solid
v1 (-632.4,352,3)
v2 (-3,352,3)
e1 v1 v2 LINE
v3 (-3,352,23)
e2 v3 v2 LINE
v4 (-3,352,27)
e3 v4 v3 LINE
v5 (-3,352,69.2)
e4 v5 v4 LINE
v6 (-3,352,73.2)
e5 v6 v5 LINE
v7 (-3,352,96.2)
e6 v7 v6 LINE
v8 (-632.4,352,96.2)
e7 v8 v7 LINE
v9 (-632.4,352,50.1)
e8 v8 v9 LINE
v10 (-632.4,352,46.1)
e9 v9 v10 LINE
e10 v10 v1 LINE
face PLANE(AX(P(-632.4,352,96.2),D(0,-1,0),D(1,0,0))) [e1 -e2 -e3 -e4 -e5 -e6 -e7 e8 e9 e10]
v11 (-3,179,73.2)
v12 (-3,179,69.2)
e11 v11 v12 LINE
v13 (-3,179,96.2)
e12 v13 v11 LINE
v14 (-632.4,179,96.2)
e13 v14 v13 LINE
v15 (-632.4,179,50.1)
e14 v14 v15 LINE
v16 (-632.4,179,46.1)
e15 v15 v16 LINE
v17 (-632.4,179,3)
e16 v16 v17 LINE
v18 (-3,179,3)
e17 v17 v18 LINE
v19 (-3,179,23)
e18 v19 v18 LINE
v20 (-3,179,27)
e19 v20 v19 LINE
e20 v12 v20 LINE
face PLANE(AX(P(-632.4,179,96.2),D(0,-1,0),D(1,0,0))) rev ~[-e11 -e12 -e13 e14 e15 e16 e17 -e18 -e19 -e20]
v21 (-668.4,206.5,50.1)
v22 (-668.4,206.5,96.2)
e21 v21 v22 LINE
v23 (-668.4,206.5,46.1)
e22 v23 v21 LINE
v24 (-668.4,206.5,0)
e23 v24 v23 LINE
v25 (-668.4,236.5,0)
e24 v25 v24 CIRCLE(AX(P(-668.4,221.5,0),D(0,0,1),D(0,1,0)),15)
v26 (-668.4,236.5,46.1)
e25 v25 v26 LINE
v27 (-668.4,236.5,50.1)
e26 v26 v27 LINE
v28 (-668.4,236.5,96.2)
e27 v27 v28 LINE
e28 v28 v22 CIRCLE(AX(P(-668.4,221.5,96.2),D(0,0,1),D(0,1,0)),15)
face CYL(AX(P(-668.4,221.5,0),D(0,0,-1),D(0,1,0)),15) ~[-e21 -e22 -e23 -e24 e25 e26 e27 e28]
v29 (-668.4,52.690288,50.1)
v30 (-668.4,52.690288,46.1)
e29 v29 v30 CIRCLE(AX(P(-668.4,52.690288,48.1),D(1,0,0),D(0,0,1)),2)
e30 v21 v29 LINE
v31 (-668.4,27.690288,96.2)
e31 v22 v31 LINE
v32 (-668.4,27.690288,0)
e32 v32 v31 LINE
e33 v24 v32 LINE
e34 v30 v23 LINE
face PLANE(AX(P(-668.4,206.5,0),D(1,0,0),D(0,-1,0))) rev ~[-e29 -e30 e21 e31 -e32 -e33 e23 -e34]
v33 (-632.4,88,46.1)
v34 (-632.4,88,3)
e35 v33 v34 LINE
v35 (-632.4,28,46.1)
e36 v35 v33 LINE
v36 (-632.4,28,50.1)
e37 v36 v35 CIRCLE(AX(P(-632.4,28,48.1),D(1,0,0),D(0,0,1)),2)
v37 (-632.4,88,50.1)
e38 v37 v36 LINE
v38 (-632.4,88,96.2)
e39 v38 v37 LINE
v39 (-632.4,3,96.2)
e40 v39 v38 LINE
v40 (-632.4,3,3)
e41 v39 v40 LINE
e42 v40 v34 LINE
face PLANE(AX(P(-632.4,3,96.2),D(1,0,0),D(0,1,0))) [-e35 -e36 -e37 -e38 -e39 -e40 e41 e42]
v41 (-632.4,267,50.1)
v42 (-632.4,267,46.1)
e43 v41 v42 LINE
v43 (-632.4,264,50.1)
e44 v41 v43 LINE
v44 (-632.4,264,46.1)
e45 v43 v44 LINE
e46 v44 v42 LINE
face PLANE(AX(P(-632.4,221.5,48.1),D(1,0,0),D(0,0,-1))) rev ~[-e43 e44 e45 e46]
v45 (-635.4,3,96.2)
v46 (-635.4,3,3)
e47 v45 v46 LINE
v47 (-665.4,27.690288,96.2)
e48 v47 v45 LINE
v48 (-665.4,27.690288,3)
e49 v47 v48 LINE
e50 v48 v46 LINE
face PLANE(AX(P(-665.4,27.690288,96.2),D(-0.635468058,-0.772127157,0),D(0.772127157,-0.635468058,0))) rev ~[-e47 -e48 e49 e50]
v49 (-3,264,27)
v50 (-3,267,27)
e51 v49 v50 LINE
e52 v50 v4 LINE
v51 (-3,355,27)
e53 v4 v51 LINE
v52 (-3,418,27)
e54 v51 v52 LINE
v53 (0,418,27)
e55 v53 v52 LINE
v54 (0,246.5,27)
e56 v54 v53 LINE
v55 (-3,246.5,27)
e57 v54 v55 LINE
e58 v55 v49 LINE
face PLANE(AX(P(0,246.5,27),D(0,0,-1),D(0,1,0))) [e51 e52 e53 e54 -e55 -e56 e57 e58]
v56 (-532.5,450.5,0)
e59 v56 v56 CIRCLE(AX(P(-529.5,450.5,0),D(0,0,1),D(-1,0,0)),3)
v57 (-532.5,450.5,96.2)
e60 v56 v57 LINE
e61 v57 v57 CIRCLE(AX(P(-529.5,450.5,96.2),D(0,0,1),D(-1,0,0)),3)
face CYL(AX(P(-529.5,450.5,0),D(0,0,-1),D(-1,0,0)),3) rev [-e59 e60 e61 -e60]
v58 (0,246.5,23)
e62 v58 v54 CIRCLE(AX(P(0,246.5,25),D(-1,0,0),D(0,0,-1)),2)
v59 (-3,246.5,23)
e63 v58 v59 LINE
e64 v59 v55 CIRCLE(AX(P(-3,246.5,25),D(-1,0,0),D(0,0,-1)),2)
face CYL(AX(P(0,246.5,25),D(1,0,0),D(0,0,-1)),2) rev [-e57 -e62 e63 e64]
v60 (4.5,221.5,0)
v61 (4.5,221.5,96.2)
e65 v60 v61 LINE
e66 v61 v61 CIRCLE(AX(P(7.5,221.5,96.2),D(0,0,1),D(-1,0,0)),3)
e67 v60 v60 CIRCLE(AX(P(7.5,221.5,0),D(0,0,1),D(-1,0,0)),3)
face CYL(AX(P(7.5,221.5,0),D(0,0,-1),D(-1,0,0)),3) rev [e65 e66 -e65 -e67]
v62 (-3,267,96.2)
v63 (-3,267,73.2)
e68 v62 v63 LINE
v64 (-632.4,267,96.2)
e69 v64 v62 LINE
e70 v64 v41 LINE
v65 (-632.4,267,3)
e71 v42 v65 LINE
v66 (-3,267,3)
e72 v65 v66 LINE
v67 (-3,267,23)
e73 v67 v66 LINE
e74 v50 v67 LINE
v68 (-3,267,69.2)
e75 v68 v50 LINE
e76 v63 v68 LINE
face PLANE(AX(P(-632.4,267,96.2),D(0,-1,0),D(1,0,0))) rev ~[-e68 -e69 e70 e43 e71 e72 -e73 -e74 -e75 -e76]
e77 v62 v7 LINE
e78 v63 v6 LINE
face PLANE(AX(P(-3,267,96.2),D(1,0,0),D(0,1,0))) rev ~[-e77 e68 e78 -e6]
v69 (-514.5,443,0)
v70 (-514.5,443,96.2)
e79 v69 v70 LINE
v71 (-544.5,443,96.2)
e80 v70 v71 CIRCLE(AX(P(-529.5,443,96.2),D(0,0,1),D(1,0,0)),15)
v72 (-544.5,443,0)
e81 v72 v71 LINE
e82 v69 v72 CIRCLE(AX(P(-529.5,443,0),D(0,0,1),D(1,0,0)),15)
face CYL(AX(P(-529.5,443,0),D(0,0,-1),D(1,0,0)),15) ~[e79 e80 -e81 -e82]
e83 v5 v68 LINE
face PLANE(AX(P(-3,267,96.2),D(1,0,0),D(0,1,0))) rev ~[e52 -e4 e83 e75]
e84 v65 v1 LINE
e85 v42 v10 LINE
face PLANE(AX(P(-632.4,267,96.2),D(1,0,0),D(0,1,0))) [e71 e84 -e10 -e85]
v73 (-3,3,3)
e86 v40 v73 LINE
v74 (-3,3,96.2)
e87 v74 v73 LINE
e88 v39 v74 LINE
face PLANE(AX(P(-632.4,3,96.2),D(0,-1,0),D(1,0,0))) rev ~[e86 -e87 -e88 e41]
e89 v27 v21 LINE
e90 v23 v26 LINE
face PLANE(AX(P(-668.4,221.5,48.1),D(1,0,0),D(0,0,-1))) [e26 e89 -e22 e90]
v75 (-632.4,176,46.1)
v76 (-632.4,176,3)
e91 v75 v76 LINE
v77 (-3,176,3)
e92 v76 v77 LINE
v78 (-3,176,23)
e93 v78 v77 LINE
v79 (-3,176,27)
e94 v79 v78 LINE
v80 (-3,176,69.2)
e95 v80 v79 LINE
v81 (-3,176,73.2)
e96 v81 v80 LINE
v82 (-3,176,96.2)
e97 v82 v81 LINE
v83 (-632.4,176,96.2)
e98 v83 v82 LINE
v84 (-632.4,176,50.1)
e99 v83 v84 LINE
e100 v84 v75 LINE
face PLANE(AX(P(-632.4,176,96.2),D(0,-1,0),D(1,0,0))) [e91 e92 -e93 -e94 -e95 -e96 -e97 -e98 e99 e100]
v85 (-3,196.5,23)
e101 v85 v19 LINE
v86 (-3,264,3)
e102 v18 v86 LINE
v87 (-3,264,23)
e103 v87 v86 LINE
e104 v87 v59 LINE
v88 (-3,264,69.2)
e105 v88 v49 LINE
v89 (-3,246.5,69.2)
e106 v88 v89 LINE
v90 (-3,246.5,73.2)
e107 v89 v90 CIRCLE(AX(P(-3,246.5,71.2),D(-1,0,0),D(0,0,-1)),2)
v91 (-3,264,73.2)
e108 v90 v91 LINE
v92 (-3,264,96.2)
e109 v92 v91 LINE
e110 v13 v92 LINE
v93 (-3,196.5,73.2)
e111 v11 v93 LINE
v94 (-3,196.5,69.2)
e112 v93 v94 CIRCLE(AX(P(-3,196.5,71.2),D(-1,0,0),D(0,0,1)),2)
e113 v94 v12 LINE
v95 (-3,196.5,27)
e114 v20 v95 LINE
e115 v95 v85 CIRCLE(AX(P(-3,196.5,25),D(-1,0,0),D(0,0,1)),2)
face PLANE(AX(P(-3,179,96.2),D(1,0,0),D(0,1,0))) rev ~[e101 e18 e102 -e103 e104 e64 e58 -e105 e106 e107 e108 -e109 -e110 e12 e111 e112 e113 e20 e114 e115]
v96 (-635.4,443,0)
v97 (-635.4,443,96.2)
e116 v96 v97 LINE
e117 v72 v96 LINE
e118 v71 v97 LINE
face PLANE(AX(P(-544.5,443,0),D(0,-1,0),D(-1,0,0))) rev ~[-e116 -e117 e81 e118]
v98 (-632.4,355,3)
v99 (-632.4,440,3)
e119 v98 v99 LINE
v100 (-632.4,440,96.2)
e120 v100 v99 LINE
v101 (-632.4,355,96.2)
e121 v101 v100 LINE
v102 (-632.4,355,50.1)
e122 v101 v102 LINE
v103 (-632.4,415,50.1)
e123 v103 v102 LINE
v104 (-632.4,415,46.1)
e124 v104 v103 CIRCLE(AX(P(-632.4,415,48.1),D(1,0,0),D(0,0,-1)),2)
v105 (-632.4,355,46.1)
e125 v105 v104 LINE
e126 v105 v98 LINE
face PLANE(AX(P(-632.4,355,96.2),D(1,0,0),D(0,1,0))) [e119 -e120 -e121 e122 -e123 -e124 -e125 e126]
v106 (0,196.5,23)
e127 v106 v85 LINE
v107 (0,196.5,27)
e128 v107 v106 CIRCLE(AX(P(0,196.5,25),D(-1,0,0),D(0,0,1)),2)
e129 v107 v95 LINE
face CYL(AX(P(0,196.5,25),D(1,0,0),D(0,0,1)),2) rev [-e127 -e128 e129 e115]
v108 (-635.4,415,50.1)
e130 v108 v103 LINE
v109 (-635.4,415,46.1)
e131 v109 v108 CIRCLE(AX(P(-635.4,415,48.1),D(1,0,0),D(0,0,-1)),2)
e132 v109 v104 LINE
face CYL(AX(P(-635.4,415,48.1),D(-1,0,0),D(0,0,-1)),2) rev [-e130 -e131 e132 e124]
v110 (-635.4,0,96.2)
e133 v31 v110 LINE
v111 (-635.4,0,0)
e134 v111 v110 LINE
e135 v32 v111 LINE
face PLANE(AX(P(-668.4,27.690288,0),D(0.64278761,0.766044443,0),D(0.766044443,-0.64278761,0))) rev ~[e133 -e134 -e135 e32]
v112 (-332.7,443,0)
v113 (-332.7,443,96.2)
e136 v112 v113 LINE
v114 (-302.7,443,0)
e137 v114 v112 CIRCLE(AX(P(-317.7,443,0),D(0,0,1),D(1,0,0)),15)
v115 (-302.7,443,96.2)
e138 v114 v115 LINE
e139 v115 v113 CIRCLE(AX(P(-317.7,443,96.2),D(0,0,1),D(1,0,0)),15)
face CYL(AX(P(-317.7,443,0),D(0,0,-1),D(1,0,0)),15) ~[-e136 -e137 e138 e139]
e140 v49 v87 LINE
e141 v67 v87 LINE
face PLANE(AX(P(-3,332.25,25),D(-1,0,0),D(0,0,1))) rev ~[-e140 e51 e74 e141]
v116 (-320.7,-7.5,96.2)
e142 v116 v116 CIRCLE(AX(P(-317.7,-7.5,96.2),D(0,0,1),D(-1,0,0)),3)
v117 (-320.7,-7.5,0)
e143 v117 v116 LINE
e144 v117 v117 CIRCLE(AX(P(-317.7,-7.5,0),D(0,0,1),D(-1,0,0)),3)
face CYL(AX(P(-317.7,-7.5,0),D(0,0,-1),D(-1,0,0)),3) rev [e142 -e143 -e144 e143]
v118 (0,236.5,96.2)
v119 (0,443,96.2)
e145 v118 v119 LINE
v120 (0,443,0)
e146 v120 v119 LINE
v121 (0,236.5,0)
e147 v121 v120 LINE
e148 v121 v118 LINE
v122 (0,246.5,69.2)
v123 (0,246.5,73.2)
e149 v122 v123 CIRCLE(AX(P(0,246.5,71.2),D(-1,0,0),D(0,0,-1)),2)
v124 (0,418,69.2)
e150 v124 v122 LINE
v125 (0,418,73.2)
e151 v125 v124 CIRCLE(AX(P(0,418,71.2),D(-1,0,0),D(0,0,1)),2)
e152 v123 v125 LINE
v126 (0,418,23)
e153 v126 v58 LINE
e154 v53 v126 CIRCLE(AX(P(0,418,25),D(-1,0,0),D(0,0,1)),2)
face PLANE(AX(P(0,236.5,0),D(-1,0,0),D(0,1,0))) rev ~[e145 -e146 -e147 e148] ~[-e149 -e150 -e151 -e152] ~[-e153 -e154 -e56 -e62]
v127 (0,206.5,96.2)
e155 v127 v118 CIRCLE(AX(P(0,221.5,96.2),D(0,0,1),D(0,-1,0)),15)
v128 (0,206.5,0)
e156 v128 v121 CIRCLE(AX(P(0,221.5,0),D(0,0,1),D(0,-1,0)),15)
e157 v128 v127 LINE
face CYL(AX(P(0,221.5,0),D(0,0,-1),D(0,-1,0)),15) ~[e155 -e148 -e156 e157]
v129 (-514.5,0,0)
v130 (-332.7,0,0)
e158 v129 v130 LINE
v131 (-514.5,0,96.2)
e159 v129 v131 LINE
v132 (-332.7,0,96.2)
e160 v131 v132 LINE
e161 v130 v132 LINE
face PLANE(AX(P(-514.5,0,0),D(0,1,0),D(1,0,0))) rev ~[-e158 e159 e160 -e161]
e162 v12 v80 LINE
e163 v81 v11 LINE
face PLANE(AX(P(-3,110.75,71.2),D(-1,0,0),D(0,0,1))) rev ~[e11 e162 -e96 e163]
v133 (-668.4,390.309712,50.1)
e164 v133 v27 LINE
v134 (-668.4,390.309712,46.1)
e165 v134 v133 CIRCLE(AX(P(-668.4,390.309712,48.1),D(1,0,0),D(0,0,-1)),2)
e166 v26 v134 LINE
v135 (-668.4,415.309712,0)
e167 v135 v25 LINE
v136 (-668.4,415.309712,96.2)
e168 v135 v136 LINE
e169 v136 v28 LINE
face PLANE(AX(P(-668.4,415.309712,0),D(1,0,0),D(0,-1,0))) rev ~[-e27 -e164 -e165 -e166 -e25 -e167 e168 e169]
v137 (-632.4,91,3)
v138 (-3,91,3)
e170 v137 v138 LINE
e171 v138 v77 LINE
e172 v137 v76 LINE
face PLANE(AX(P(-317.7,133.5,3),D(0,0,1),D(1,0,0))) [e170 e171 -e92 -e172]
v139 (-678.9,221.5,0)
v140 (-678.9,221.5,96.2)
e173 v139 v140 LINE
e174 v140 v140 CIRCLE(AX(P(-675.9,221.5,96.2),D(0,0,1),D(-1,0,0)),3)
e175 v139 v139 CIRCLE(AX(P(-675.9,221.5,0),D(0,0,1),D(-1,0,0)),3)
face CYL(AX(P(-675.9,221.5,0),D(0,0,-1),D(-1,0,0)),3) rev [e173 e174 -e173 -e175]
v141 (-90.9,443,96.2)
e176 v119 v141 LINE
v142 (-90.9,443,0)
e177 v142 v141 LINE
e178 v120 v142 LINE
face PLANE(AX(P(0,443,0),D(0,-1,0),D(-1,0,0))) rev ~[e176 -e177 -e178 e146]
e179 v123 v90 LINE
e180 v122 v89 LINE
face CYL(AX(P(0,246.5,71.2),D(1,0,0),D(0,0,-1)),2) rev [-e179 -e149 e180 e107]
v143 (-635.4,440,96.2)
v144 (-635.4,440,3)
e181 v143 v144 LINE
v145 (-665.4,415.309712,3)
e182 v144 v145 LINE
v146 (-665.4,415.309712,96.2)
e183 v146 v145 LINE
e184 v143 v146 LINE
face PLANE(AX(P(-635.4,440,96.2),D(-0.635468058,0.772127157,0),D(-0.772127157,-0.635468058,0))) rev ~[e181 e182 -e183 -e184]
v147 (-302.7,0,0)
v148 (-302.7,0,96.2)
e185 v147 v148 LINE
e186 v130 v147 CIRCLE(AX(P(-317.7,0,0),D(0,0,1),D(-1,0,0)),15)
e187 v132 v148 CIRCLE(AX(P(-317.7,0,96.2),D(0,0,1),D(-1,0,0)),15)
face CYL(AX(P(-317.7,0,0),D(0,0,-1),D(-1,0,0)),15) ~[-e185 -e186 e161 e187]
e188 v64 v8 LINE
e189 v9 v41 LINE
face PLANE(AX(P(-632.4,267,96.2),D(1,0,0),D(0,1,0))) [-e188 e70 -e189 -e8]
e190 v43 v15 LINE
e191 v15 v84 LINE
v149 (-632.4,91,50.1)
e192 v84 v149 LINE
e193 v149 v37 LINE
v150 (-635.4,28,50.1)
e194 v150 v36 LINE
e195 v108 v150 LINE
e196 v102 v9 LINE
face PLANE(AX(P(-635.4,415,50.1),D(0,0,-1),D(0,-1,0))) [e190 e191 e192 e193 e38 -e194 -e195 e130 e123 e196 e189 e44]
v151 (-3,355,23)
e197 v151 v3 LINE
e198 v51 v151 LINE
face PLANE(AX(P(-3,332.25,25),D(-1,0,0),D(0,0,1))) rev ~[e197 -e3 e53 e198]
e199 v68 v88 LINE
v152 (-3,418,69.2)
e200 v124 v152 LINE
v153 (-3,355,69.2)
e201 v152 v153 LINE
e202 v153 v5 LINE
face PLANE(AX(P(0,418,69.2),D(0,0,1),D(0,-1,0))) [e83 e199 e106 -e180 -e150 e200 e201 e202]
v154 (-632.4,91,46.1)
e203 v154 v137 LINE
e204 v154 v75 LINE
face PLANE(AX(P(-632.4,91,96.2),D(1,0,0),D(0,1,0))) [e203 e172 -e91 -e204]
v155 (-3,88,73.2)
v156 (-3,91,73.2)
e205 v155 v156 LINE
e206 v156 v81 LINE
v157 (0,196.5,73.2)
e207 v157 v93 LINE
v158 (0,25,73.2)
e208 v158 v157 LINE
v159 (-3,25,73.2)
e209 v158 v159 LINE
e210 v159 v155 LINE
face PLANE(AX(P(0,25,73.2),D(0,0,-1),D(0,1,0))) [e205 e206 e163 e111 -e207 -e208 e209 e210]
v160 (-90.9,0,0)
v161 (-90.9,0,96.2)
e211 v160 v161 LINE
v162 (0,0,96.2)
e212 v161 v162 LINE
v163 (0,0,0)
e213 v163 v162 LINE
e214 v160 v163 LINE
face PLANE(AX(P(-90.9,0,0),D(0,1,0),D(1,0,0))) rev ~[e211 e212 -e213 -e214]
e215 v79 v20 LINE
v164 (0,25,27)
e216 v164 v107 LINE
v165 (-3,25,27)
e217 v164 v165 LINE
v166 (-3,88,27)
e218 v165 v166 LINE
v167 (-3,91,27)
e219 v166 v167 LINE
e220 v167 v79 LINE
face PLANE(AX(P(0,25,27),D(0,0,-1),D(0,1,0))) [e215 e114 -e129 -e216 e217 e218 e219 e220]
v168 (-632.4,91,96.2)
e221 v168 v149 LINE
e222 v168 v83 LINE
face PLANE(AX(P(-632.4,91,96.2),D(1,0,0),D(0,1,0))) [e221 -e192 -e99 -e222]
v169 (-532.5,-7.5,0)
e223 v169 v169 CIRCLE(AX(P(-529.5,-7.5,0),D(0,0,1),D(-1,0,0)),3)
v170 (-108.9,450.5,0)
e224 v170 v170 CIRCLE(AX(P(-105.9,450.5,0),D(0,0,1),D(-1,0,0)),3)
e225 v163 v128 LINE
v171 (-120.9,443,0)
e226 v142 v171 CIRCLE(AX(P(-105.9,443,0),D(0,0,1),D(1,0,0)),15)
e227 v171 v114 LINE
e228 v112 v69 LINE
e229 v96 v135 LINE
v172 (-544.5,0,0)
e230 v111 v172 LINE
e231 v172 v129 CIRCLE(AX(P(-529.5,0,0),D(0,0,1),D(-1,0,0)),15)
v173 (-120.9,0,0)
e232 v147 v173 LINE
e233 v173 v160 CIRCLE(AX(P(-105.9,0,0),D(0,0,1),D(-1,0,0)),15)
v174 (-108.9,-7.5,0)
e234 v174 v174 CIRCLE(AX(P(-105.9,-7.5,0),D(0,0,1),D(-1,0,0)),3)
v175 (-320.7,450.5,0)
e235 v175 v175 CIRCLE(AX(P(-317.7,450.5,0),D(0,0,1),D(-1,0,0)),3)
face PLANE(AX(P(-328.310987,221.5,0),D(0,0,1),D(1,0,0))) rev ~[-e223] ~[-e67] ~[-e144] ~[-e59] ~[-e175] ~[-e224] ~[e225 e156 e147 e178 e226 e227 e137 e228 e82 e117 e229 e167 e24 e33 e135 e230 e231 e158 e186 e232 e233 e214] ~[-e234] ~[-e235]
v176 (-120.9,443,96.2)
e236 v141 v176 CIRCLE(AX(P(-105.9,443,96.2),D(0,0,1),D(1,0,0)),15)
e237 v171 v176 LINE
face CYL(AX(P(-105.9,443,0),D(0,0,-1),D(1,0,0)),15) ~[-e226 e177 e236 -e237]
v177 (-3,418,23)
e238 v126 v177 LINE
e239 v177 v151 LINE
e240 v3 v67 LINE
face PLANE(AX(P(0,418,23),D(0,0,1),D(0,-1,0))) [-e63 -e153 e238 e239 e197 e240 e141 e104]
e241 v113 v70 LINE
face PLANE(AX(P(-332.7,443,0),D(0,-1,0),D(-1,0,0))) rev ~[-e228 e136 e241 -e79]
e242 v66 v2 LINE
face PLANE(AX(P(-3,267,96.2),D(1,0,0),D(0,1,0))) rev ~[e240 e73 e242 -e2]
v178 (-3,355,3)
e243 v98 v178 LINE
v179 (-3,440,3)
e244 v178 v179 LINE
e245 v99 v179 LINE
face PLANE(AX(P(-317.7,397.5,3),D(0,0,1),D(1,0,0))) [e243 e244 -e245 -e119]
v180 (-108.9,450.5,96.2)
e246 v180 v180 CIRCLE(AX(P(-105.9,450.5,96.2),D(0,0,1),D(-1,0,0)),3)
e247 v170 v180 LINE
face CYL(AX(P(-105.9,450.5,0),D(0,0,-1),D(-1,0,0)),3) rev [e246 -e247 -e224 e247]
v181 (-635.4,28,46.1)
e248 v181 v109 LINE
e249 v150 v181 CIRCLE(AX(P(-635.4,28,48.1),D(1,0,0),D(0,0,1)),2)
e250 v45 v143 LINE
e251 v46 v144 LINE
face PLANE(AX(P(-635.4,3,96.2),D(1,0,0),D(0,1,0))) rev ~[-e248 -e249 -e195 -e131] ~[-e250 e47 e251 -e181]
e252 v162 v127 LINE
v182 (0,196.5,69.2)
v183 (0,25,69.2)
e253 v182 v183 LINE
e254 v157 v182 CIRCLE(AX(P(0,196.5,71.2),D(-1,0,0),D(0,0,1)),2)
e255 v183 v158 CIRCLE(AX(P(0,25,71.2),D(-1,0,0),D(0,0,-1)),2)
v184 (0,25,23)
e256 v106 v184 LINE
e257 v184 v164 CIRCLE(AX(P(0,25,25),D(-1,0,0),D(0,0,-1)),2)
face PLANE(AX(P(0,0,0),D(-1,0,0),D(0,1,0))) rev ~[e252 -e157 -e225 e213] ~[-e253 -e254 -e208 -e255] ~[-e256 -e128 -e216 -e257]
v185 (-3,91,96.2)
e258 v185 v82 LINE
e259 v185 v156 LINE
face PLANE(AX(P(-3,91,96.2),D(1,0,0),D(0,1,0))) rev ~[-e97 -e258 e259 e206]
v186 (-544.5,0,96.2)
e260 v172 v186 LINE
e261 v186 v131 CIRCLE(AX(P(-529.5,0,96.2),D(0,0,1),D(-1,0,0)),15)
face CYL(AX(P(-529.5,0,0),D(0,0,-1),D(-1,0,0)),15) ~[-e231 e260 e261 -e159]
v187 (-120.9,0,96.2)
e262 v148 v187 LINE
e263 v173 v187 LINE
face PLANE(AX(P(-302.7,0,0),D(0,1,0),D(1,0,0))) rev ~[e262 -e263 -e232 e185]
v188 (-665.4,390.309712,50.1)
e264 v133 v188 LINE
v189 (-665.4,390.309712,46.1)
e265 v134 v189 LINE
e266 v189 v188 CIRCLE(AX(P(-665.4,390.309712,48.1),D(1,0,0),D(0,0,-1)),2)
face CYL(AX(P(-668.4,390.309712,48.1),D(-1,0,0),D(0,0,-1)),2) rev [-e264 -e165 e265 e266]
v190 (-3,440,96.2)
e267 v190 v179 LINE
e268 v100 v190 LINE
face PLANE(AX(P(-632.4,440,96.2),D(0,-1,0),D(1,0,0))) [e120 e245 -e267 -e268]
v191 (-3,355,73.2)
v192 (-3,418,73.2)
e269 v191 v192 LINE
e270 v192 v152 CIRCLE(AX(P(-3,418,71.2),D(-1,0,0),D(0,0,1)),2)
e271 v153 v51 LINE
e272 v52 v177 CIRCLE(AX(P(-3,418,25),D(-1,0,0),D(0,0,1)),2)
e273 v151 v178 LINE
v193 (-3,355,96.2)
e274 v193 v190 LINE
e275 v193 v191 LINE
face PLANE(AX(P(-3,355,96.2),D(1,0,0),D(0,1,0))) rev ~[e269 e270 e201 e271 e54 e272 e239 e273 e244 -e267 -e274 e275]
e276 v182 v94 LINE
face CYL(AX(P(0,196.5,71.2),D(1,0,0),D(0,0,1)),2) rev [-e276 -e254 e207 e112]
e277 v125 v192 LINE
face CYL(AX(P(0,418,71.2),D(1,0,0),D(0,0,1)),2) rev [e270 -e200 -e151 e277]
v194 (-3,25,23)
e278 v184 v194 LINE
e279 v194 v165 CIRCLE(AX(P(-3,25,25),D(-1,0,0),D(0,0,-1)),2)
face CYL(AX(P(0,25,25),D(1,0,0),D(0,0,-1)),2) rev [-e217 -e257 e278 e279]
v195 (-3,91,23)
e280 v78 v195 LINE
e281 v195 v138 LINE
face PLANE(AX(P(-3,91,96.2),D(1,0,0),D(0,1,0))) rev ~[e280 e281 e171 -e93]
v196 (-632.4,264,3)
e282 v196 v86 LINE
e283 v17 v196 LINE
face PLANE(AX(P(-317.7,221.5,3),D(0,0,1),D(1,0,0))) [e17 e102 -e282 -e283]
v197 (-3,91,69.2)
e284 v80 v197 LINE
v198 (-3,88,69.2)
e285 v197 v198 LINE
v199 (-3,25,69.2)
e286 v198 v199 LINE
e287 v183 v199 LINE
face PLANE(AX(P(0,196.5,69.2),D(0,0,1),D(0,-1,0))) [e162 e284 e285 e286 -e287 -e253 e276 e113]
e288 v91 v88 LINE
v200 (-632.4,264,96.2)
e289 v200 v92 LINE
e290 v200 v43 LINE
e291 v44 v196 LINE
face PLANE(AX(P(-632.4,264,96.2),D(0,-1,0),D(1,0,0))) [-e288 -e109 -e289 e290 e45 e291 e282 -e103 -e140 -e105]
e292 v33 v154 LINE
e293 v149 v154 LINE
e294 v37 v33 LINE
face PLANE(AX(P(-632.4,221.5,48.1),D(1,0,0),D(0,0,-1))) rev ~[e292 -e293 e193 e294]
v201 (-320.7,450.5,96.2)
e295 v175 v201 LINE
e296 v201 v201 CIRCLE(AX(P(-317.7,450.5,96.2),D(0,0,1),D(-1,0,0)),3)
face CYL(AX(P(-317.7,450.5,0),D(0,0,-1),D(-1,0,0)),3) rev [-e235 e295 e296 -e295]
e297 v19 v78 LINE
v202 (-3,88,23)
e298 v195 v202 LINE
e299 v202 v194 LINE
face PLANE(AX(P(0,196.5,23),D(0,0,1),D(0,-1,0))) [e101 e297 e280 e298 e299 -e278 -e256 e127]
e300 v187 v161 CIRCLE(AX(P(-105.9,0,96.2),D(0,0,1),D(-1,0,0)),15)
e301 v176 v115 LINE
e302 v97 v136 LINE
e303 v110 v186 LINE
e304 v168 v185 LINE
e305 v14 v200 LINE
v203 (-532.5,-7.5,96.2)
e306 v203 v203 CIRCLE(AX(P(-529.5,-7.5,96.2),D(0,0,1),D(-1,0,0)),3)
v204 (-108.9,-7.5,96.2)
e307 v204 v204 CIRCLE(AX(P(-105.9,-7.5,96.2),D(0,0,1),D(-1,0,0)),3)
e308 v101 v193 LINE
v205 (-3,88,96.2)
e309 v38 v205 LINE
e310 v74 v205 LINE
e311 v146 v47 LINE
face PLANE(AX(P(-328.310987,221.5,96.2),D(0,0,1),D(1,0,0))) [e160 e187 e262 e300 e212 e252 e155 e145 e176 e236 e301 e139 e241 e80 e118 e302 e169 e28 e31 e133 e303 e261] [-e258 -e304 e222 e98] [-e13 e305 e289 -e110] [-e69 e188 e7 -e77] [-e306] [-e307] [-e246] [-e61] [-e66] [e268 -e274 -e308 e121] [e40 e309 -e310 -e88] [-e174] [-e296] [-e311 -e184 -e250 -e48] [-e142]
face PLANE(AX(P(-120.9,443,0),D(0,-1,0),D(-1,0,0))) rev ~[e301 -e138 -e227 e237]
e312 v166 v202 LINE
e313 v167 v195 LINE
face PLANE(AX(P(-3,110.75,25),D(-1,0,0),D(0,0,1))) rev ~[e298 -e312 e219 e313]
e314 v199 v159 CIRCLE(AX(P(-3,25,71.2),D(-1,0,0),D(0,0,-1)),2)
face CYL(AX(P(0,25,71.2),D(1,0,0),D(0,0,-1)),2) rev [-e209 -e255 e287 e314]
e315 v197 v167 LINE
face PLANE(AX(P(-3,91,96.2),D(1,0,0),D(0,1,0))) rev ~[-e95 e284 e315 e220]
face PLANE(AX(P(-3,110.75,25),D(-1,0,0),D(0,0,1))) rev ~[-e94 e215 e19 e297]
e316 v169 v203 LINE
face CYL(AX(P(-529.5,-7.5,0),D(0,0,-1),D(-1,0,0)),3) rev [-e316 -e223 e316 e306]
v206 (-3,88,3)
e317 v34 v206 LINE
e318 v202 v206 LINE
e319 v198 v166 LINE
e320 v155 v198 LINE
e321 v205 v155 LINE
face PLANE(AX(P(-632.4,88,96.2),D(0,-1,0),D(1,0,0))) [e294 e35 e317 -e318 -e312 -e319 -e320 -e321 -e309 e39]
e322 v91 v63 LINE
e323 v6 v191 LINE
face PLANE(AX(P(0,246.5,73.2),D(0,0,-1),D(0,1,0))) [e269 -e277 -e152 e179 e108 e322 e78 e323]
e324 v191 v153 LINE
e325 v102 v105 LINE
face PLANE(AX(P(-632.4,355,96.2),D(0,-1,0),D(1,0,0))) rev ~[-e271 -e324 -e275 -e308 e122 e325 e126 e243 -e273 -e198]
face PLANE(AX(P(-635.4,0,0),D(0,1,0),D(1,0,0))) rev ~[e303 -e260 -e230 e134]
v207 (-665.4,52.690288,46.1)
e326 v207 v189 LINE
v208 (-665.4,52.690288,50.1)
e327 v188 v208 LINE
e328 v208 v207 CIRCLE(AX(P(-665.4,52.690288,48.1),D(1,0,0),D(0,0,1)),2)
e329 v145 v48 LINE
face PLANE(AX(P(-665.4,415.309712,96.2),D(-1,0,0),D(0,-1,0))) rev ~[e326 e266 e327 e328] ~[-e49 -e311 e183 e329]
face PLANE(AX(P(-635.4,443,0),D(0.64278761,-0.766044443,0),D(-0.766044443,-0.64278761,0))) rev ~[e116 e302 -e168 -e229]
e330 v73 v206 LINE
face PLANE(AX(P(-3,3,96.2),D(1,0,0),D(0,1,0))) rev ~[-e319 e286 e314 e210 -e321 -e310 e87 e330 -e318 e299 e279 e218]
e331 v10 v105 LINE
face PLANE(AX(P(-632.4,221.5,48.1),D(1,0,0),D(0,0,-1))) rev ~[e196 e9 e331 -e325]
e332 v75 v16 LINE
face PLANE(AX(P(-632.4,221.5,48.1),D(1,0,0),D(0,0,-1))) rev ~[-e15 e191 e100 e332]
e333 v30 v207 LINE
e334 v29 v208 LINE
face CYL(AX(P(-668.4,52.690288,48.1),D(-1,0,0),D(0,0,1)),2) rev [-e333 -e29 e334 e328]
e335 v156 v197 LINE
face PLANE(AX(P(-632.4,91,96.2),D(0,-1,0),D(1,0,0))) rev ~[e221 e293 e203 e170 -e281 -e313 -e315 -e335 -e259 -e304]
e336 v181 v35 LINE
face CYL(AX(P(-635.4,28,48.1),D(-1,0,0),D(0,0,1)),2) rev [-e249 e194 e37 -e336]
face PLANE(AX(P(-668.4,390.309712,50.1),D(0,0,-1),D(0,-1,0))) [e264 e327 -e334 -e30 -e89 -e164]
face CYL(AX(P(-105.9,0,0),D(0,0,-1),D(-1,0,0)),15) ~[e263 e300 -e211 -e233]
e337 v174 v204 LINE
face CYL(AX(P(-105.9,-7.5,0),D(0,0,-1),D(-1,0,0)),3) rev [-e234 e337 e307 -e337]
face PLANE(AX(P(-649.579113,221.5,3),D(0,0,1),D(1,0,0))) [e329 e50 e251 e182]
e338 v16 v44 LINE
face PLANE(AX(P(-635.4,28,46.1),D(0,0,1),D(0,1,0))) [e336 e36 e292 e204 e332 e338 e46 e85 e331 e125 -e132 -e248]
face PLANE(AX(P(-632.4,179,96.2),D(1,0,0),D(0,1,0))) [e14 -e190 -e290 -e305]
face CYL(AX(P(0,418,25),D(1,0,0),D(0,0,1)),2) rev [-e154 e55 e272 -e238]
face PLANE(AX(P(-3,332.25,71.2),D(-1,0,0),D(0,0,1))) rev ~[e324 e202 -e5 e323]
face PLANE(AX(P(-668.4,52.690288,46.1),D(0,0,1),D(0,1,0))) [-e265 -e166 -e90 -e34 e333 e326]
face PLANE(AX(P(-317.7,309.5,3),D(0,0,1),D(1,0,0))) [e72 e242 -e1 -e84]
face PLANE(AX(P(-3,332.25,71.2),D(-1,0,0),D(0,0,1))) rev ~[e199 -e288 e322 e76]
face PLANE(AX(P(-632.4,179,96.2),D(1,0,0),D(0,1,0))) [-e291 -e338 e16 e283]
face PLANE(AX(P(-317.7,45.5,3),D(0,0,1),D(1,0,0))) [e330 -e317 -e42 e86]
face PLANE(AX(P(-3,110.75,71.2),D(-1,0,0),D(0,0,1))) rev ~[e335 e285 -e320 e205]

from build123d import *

# Parameters (mm, degrees)
SKETCH1_R           = 3
BOSS_EXTRUDE1_DEPTH = 96.2
SKETCH2_W           = 629.4
SKETCH2_H           = 85
CUT_EXTRUDE1_DEPTH  = 93.2
LPATTERN1_COUNT     = 5
LPATTERN1_PITCH     = 88
CUT_EXTRUDE3_DEPTH  = 93.2
CUT_EXTRUDE4_DEPTH  = 3
CUT_EXTRUDE5_DEPTH  = 3
CUT_EXTRUDE6_DEPTH  = 3


with BuildPart() as part:
    # Sketch1 → Boss-Extrude1 (new body)
    with BuildSketch(Plane.XY):
        with BuildLine():
            Line((0, 0), (0, 206.5))
            ThreePointArc((0, 206.5), (15, 221.5), (0, 236.5))
            Line((0, 236.5), (0, 443))
            Line((0, 443), (-90.9, 443))
            ThreePointArc((-90.9, 443), (-105.9, 458), (-120.9, 443))
            Line((-120.9, 443), (-302.7, 443))
            ThreePointArc((-302.7, 443), (-317.7, 458), (-332.7, 443))
            Line((-332.7, 443), (-514.5, 443))
            ThreePointArc((-514.5, 443), (-529.5, 458), (-544.5, 443))
            Line((-544.5, 443), (-635.4, 443))
            Line((-635.4, 443), (-668.4, 415.309712171))
            Line((-668.4, 415.309712171), (-668.4, 236.5))
            ThreePointArc((-668.4, 236.5), (-683.4, 221.5), (-668.4, 206.5))
            Line((-668.4, 206.5), (-668.4, 27.690287829))
            Line((-668.4, 27.690287829), (-635.4, 0))
            Line((-635.4, 0), (-544.5, 0))
            ThreePointArc((-544.5, 0), (-529.5, -15), (-514.5, 0))
            Line((-514.5, 0), (-332.7, 0))
            ThreePointArc((-332.7, 0), (-317.7, -15), (-302.7, 0))
            Line((-302.7, 0), (-120.9, 0))
            ThreePointArc((-120.9, 0), (-105.9, -15), (-90.9, 0))
            Line((-90.9, 0), (0, 0))
        make_face()
        with Locations(Location((-529.5, 450.5, 0), (0, 0, 180))):
            Circle(SKETCH1_R, mode=Mode.SUBTRACT)
        with Locations(Location((-317.7, 450.5, 0), (0, 0, 180))):
            Circle(SKETCH1_R, mode=Mode.SUBTRACT)
        with Locations(Location((-105.9, 450.5, 0), (0, 0, 180))):
            Circle(SKETCH1_R, mode=Mode.SUBTRACT)
        with Locations(Location((7.5, 221.5, 0), (0, 0, 180))):
            Circle(SKETCH1_R, mode=Mode.SUBTRACT)
        with Locations(Location((-675.9, 221.5, 0), (0, 0, 180))):
            Circle(SKETCH1_R, mode=Mode.SUBTRACT)
        with Locations(Location((-529.5, -7.5, 0), (0, 0, 180))):
            Circle(SKETCH1_R, mode=Mode.SUBTRACT)
        with Locations(Location((-317.7, -7.5, 0), (0, 0, 180))):
            Circle(SKETCH1_R, mode=Mode.SUBTRACT)
        with Locations(Location((-105.9, -7.5, 0), (0, 0, 180))):
            Circle(SKETCH1_R, mode=Mode.SUBTRACT)
    extrude(amount=BOSS_EXTRUDE1_DEPTH)

    # Sketch2 → Cut-Extrude1 (cut)
    with BuildSketch(Plane.XY.offset(96.2)):
        with Locations((-317.7, 397.5)):
            Rectangle(SKETCH2_W, SKETCH2_H)
    cut_extrude1 = extrude(amount=-CUT_EXTRUDE1_DEPTH, mode=Mode.SUBTRACT)

    # LPattern1: Cut-Extrude1 ×5
    with Locations(*[(0, -i * LPATTERN1_PITCH, 0) for i in range(1, LPATTERN1_COUNT)]):
        add(cut_extrude1, mode=Mode.SUBTRACT)

    # Sketch5 → Cut-Extrude3 (cut)
    with BuildSketch(Plane.XY.offset(96.2)):
        Polygon((-665.4, 415.309712171), (-665.4, 27.690287829), (-635.4, 3), (-635.4, 440), align=None)
    extrude(amount=-CUT_EXTRUDE3_DEPTH, mode=Mode.SUBTRACT)

    # Sketch7 → Cut-Extrude4 (cut)
    with BuildSketch(Plane(origin=(0, 0, 0), x_dir=(0, 0, -1), z_dir=(1, 0, 0))):
        with BuildLine():
            Line((-69.2, 418), (-69.2, 246.5))
            ThreePointArc((-69.2, 246.5), (-71.2, 244.5), (-73.2, 246.5))
            Line((-73.2, 246.5), (-73.2, 418))
            ThreePointArc((-73.2, 418), (-71.2, 420), (-69.2, 418))
        make_face()
        with BuildLine():
            Line((-23, 418), (-23, 246.5))
            ThreePointArc((-23, 246.5), (-25, 244.5), (-27, 246.5))
            Line((-27, 246.5), (-27, 418))
            ThreePointArc((-27, 418), (-25, 420), (-23, 418))
        make_face()
        with BuildLine():
            Line((-69.2, 196.5), (-69.2, 25))
            ThreePointArc((-69.2, 25), (-71.2, 23), (-73.2, 25))
            Line((-73.2, 25), (-73.2, 196.5))
            ThreePointArc((-73.2, 196.5), (-71.2, 198.5), (-69.2, 196.5))
        make_face()
        with BuildLine():
            Line((-23, 196.5), (-23, 25))
            ThreePointArc((-23, 25), (-25, 23), (-27, 25))
            Line((-27, 25), (-27, 196.5))
            ThreePointArc((-27, 196.5), (-25, 198.5), (-23, 196.5))
        make_face()
    extrude(amount=-CUT_EXTRUDE4_DEPTH, mode=Mode.SUBTRACT)

    # Sketch8 → Cut-Extrude5 (cut)
    with BuildSketch(Plane.ZY.offset(635.4)):
        with BuildLine():
            Line((50.1, 415), (50.1, 28))
            ThreePointArc((50.1, 28), (48.1, 26), (46.1, 28))
            Line((46.1, 28), (46.1, 415))
            ThreePointArc((46.1, 415), (48.1, 417), (50.1, 415))
        make_face()
    extrude(amount=-CUT_EXTRUDE5_DEPTH, mode=Mode.SUBTRACT)

    # Sketch9 → Cut-Extrude6 (cut)
    with BuildSketch(Plane.ZY.offset(668.4)):
        with BuildLine():
            Line((50.1, 390.309712171), (50.1, 52.690287829))
            ThreePointArc((50.1, 52.690287829), (48.1, 50.690287829), (46.1, 52.690287829))
            Line((46.1, 52.690287829), (46.1, 390.309712171))
            ThreePointArc((46.1, 390.309712171), (48.1, 392.309712171), (50.1, 390.309712171))
        make_face()
    extrude(amount=-CUT_EXTRUDE6_DEPTH, mode=Mode.SUBTRACT)


solid = part.part
